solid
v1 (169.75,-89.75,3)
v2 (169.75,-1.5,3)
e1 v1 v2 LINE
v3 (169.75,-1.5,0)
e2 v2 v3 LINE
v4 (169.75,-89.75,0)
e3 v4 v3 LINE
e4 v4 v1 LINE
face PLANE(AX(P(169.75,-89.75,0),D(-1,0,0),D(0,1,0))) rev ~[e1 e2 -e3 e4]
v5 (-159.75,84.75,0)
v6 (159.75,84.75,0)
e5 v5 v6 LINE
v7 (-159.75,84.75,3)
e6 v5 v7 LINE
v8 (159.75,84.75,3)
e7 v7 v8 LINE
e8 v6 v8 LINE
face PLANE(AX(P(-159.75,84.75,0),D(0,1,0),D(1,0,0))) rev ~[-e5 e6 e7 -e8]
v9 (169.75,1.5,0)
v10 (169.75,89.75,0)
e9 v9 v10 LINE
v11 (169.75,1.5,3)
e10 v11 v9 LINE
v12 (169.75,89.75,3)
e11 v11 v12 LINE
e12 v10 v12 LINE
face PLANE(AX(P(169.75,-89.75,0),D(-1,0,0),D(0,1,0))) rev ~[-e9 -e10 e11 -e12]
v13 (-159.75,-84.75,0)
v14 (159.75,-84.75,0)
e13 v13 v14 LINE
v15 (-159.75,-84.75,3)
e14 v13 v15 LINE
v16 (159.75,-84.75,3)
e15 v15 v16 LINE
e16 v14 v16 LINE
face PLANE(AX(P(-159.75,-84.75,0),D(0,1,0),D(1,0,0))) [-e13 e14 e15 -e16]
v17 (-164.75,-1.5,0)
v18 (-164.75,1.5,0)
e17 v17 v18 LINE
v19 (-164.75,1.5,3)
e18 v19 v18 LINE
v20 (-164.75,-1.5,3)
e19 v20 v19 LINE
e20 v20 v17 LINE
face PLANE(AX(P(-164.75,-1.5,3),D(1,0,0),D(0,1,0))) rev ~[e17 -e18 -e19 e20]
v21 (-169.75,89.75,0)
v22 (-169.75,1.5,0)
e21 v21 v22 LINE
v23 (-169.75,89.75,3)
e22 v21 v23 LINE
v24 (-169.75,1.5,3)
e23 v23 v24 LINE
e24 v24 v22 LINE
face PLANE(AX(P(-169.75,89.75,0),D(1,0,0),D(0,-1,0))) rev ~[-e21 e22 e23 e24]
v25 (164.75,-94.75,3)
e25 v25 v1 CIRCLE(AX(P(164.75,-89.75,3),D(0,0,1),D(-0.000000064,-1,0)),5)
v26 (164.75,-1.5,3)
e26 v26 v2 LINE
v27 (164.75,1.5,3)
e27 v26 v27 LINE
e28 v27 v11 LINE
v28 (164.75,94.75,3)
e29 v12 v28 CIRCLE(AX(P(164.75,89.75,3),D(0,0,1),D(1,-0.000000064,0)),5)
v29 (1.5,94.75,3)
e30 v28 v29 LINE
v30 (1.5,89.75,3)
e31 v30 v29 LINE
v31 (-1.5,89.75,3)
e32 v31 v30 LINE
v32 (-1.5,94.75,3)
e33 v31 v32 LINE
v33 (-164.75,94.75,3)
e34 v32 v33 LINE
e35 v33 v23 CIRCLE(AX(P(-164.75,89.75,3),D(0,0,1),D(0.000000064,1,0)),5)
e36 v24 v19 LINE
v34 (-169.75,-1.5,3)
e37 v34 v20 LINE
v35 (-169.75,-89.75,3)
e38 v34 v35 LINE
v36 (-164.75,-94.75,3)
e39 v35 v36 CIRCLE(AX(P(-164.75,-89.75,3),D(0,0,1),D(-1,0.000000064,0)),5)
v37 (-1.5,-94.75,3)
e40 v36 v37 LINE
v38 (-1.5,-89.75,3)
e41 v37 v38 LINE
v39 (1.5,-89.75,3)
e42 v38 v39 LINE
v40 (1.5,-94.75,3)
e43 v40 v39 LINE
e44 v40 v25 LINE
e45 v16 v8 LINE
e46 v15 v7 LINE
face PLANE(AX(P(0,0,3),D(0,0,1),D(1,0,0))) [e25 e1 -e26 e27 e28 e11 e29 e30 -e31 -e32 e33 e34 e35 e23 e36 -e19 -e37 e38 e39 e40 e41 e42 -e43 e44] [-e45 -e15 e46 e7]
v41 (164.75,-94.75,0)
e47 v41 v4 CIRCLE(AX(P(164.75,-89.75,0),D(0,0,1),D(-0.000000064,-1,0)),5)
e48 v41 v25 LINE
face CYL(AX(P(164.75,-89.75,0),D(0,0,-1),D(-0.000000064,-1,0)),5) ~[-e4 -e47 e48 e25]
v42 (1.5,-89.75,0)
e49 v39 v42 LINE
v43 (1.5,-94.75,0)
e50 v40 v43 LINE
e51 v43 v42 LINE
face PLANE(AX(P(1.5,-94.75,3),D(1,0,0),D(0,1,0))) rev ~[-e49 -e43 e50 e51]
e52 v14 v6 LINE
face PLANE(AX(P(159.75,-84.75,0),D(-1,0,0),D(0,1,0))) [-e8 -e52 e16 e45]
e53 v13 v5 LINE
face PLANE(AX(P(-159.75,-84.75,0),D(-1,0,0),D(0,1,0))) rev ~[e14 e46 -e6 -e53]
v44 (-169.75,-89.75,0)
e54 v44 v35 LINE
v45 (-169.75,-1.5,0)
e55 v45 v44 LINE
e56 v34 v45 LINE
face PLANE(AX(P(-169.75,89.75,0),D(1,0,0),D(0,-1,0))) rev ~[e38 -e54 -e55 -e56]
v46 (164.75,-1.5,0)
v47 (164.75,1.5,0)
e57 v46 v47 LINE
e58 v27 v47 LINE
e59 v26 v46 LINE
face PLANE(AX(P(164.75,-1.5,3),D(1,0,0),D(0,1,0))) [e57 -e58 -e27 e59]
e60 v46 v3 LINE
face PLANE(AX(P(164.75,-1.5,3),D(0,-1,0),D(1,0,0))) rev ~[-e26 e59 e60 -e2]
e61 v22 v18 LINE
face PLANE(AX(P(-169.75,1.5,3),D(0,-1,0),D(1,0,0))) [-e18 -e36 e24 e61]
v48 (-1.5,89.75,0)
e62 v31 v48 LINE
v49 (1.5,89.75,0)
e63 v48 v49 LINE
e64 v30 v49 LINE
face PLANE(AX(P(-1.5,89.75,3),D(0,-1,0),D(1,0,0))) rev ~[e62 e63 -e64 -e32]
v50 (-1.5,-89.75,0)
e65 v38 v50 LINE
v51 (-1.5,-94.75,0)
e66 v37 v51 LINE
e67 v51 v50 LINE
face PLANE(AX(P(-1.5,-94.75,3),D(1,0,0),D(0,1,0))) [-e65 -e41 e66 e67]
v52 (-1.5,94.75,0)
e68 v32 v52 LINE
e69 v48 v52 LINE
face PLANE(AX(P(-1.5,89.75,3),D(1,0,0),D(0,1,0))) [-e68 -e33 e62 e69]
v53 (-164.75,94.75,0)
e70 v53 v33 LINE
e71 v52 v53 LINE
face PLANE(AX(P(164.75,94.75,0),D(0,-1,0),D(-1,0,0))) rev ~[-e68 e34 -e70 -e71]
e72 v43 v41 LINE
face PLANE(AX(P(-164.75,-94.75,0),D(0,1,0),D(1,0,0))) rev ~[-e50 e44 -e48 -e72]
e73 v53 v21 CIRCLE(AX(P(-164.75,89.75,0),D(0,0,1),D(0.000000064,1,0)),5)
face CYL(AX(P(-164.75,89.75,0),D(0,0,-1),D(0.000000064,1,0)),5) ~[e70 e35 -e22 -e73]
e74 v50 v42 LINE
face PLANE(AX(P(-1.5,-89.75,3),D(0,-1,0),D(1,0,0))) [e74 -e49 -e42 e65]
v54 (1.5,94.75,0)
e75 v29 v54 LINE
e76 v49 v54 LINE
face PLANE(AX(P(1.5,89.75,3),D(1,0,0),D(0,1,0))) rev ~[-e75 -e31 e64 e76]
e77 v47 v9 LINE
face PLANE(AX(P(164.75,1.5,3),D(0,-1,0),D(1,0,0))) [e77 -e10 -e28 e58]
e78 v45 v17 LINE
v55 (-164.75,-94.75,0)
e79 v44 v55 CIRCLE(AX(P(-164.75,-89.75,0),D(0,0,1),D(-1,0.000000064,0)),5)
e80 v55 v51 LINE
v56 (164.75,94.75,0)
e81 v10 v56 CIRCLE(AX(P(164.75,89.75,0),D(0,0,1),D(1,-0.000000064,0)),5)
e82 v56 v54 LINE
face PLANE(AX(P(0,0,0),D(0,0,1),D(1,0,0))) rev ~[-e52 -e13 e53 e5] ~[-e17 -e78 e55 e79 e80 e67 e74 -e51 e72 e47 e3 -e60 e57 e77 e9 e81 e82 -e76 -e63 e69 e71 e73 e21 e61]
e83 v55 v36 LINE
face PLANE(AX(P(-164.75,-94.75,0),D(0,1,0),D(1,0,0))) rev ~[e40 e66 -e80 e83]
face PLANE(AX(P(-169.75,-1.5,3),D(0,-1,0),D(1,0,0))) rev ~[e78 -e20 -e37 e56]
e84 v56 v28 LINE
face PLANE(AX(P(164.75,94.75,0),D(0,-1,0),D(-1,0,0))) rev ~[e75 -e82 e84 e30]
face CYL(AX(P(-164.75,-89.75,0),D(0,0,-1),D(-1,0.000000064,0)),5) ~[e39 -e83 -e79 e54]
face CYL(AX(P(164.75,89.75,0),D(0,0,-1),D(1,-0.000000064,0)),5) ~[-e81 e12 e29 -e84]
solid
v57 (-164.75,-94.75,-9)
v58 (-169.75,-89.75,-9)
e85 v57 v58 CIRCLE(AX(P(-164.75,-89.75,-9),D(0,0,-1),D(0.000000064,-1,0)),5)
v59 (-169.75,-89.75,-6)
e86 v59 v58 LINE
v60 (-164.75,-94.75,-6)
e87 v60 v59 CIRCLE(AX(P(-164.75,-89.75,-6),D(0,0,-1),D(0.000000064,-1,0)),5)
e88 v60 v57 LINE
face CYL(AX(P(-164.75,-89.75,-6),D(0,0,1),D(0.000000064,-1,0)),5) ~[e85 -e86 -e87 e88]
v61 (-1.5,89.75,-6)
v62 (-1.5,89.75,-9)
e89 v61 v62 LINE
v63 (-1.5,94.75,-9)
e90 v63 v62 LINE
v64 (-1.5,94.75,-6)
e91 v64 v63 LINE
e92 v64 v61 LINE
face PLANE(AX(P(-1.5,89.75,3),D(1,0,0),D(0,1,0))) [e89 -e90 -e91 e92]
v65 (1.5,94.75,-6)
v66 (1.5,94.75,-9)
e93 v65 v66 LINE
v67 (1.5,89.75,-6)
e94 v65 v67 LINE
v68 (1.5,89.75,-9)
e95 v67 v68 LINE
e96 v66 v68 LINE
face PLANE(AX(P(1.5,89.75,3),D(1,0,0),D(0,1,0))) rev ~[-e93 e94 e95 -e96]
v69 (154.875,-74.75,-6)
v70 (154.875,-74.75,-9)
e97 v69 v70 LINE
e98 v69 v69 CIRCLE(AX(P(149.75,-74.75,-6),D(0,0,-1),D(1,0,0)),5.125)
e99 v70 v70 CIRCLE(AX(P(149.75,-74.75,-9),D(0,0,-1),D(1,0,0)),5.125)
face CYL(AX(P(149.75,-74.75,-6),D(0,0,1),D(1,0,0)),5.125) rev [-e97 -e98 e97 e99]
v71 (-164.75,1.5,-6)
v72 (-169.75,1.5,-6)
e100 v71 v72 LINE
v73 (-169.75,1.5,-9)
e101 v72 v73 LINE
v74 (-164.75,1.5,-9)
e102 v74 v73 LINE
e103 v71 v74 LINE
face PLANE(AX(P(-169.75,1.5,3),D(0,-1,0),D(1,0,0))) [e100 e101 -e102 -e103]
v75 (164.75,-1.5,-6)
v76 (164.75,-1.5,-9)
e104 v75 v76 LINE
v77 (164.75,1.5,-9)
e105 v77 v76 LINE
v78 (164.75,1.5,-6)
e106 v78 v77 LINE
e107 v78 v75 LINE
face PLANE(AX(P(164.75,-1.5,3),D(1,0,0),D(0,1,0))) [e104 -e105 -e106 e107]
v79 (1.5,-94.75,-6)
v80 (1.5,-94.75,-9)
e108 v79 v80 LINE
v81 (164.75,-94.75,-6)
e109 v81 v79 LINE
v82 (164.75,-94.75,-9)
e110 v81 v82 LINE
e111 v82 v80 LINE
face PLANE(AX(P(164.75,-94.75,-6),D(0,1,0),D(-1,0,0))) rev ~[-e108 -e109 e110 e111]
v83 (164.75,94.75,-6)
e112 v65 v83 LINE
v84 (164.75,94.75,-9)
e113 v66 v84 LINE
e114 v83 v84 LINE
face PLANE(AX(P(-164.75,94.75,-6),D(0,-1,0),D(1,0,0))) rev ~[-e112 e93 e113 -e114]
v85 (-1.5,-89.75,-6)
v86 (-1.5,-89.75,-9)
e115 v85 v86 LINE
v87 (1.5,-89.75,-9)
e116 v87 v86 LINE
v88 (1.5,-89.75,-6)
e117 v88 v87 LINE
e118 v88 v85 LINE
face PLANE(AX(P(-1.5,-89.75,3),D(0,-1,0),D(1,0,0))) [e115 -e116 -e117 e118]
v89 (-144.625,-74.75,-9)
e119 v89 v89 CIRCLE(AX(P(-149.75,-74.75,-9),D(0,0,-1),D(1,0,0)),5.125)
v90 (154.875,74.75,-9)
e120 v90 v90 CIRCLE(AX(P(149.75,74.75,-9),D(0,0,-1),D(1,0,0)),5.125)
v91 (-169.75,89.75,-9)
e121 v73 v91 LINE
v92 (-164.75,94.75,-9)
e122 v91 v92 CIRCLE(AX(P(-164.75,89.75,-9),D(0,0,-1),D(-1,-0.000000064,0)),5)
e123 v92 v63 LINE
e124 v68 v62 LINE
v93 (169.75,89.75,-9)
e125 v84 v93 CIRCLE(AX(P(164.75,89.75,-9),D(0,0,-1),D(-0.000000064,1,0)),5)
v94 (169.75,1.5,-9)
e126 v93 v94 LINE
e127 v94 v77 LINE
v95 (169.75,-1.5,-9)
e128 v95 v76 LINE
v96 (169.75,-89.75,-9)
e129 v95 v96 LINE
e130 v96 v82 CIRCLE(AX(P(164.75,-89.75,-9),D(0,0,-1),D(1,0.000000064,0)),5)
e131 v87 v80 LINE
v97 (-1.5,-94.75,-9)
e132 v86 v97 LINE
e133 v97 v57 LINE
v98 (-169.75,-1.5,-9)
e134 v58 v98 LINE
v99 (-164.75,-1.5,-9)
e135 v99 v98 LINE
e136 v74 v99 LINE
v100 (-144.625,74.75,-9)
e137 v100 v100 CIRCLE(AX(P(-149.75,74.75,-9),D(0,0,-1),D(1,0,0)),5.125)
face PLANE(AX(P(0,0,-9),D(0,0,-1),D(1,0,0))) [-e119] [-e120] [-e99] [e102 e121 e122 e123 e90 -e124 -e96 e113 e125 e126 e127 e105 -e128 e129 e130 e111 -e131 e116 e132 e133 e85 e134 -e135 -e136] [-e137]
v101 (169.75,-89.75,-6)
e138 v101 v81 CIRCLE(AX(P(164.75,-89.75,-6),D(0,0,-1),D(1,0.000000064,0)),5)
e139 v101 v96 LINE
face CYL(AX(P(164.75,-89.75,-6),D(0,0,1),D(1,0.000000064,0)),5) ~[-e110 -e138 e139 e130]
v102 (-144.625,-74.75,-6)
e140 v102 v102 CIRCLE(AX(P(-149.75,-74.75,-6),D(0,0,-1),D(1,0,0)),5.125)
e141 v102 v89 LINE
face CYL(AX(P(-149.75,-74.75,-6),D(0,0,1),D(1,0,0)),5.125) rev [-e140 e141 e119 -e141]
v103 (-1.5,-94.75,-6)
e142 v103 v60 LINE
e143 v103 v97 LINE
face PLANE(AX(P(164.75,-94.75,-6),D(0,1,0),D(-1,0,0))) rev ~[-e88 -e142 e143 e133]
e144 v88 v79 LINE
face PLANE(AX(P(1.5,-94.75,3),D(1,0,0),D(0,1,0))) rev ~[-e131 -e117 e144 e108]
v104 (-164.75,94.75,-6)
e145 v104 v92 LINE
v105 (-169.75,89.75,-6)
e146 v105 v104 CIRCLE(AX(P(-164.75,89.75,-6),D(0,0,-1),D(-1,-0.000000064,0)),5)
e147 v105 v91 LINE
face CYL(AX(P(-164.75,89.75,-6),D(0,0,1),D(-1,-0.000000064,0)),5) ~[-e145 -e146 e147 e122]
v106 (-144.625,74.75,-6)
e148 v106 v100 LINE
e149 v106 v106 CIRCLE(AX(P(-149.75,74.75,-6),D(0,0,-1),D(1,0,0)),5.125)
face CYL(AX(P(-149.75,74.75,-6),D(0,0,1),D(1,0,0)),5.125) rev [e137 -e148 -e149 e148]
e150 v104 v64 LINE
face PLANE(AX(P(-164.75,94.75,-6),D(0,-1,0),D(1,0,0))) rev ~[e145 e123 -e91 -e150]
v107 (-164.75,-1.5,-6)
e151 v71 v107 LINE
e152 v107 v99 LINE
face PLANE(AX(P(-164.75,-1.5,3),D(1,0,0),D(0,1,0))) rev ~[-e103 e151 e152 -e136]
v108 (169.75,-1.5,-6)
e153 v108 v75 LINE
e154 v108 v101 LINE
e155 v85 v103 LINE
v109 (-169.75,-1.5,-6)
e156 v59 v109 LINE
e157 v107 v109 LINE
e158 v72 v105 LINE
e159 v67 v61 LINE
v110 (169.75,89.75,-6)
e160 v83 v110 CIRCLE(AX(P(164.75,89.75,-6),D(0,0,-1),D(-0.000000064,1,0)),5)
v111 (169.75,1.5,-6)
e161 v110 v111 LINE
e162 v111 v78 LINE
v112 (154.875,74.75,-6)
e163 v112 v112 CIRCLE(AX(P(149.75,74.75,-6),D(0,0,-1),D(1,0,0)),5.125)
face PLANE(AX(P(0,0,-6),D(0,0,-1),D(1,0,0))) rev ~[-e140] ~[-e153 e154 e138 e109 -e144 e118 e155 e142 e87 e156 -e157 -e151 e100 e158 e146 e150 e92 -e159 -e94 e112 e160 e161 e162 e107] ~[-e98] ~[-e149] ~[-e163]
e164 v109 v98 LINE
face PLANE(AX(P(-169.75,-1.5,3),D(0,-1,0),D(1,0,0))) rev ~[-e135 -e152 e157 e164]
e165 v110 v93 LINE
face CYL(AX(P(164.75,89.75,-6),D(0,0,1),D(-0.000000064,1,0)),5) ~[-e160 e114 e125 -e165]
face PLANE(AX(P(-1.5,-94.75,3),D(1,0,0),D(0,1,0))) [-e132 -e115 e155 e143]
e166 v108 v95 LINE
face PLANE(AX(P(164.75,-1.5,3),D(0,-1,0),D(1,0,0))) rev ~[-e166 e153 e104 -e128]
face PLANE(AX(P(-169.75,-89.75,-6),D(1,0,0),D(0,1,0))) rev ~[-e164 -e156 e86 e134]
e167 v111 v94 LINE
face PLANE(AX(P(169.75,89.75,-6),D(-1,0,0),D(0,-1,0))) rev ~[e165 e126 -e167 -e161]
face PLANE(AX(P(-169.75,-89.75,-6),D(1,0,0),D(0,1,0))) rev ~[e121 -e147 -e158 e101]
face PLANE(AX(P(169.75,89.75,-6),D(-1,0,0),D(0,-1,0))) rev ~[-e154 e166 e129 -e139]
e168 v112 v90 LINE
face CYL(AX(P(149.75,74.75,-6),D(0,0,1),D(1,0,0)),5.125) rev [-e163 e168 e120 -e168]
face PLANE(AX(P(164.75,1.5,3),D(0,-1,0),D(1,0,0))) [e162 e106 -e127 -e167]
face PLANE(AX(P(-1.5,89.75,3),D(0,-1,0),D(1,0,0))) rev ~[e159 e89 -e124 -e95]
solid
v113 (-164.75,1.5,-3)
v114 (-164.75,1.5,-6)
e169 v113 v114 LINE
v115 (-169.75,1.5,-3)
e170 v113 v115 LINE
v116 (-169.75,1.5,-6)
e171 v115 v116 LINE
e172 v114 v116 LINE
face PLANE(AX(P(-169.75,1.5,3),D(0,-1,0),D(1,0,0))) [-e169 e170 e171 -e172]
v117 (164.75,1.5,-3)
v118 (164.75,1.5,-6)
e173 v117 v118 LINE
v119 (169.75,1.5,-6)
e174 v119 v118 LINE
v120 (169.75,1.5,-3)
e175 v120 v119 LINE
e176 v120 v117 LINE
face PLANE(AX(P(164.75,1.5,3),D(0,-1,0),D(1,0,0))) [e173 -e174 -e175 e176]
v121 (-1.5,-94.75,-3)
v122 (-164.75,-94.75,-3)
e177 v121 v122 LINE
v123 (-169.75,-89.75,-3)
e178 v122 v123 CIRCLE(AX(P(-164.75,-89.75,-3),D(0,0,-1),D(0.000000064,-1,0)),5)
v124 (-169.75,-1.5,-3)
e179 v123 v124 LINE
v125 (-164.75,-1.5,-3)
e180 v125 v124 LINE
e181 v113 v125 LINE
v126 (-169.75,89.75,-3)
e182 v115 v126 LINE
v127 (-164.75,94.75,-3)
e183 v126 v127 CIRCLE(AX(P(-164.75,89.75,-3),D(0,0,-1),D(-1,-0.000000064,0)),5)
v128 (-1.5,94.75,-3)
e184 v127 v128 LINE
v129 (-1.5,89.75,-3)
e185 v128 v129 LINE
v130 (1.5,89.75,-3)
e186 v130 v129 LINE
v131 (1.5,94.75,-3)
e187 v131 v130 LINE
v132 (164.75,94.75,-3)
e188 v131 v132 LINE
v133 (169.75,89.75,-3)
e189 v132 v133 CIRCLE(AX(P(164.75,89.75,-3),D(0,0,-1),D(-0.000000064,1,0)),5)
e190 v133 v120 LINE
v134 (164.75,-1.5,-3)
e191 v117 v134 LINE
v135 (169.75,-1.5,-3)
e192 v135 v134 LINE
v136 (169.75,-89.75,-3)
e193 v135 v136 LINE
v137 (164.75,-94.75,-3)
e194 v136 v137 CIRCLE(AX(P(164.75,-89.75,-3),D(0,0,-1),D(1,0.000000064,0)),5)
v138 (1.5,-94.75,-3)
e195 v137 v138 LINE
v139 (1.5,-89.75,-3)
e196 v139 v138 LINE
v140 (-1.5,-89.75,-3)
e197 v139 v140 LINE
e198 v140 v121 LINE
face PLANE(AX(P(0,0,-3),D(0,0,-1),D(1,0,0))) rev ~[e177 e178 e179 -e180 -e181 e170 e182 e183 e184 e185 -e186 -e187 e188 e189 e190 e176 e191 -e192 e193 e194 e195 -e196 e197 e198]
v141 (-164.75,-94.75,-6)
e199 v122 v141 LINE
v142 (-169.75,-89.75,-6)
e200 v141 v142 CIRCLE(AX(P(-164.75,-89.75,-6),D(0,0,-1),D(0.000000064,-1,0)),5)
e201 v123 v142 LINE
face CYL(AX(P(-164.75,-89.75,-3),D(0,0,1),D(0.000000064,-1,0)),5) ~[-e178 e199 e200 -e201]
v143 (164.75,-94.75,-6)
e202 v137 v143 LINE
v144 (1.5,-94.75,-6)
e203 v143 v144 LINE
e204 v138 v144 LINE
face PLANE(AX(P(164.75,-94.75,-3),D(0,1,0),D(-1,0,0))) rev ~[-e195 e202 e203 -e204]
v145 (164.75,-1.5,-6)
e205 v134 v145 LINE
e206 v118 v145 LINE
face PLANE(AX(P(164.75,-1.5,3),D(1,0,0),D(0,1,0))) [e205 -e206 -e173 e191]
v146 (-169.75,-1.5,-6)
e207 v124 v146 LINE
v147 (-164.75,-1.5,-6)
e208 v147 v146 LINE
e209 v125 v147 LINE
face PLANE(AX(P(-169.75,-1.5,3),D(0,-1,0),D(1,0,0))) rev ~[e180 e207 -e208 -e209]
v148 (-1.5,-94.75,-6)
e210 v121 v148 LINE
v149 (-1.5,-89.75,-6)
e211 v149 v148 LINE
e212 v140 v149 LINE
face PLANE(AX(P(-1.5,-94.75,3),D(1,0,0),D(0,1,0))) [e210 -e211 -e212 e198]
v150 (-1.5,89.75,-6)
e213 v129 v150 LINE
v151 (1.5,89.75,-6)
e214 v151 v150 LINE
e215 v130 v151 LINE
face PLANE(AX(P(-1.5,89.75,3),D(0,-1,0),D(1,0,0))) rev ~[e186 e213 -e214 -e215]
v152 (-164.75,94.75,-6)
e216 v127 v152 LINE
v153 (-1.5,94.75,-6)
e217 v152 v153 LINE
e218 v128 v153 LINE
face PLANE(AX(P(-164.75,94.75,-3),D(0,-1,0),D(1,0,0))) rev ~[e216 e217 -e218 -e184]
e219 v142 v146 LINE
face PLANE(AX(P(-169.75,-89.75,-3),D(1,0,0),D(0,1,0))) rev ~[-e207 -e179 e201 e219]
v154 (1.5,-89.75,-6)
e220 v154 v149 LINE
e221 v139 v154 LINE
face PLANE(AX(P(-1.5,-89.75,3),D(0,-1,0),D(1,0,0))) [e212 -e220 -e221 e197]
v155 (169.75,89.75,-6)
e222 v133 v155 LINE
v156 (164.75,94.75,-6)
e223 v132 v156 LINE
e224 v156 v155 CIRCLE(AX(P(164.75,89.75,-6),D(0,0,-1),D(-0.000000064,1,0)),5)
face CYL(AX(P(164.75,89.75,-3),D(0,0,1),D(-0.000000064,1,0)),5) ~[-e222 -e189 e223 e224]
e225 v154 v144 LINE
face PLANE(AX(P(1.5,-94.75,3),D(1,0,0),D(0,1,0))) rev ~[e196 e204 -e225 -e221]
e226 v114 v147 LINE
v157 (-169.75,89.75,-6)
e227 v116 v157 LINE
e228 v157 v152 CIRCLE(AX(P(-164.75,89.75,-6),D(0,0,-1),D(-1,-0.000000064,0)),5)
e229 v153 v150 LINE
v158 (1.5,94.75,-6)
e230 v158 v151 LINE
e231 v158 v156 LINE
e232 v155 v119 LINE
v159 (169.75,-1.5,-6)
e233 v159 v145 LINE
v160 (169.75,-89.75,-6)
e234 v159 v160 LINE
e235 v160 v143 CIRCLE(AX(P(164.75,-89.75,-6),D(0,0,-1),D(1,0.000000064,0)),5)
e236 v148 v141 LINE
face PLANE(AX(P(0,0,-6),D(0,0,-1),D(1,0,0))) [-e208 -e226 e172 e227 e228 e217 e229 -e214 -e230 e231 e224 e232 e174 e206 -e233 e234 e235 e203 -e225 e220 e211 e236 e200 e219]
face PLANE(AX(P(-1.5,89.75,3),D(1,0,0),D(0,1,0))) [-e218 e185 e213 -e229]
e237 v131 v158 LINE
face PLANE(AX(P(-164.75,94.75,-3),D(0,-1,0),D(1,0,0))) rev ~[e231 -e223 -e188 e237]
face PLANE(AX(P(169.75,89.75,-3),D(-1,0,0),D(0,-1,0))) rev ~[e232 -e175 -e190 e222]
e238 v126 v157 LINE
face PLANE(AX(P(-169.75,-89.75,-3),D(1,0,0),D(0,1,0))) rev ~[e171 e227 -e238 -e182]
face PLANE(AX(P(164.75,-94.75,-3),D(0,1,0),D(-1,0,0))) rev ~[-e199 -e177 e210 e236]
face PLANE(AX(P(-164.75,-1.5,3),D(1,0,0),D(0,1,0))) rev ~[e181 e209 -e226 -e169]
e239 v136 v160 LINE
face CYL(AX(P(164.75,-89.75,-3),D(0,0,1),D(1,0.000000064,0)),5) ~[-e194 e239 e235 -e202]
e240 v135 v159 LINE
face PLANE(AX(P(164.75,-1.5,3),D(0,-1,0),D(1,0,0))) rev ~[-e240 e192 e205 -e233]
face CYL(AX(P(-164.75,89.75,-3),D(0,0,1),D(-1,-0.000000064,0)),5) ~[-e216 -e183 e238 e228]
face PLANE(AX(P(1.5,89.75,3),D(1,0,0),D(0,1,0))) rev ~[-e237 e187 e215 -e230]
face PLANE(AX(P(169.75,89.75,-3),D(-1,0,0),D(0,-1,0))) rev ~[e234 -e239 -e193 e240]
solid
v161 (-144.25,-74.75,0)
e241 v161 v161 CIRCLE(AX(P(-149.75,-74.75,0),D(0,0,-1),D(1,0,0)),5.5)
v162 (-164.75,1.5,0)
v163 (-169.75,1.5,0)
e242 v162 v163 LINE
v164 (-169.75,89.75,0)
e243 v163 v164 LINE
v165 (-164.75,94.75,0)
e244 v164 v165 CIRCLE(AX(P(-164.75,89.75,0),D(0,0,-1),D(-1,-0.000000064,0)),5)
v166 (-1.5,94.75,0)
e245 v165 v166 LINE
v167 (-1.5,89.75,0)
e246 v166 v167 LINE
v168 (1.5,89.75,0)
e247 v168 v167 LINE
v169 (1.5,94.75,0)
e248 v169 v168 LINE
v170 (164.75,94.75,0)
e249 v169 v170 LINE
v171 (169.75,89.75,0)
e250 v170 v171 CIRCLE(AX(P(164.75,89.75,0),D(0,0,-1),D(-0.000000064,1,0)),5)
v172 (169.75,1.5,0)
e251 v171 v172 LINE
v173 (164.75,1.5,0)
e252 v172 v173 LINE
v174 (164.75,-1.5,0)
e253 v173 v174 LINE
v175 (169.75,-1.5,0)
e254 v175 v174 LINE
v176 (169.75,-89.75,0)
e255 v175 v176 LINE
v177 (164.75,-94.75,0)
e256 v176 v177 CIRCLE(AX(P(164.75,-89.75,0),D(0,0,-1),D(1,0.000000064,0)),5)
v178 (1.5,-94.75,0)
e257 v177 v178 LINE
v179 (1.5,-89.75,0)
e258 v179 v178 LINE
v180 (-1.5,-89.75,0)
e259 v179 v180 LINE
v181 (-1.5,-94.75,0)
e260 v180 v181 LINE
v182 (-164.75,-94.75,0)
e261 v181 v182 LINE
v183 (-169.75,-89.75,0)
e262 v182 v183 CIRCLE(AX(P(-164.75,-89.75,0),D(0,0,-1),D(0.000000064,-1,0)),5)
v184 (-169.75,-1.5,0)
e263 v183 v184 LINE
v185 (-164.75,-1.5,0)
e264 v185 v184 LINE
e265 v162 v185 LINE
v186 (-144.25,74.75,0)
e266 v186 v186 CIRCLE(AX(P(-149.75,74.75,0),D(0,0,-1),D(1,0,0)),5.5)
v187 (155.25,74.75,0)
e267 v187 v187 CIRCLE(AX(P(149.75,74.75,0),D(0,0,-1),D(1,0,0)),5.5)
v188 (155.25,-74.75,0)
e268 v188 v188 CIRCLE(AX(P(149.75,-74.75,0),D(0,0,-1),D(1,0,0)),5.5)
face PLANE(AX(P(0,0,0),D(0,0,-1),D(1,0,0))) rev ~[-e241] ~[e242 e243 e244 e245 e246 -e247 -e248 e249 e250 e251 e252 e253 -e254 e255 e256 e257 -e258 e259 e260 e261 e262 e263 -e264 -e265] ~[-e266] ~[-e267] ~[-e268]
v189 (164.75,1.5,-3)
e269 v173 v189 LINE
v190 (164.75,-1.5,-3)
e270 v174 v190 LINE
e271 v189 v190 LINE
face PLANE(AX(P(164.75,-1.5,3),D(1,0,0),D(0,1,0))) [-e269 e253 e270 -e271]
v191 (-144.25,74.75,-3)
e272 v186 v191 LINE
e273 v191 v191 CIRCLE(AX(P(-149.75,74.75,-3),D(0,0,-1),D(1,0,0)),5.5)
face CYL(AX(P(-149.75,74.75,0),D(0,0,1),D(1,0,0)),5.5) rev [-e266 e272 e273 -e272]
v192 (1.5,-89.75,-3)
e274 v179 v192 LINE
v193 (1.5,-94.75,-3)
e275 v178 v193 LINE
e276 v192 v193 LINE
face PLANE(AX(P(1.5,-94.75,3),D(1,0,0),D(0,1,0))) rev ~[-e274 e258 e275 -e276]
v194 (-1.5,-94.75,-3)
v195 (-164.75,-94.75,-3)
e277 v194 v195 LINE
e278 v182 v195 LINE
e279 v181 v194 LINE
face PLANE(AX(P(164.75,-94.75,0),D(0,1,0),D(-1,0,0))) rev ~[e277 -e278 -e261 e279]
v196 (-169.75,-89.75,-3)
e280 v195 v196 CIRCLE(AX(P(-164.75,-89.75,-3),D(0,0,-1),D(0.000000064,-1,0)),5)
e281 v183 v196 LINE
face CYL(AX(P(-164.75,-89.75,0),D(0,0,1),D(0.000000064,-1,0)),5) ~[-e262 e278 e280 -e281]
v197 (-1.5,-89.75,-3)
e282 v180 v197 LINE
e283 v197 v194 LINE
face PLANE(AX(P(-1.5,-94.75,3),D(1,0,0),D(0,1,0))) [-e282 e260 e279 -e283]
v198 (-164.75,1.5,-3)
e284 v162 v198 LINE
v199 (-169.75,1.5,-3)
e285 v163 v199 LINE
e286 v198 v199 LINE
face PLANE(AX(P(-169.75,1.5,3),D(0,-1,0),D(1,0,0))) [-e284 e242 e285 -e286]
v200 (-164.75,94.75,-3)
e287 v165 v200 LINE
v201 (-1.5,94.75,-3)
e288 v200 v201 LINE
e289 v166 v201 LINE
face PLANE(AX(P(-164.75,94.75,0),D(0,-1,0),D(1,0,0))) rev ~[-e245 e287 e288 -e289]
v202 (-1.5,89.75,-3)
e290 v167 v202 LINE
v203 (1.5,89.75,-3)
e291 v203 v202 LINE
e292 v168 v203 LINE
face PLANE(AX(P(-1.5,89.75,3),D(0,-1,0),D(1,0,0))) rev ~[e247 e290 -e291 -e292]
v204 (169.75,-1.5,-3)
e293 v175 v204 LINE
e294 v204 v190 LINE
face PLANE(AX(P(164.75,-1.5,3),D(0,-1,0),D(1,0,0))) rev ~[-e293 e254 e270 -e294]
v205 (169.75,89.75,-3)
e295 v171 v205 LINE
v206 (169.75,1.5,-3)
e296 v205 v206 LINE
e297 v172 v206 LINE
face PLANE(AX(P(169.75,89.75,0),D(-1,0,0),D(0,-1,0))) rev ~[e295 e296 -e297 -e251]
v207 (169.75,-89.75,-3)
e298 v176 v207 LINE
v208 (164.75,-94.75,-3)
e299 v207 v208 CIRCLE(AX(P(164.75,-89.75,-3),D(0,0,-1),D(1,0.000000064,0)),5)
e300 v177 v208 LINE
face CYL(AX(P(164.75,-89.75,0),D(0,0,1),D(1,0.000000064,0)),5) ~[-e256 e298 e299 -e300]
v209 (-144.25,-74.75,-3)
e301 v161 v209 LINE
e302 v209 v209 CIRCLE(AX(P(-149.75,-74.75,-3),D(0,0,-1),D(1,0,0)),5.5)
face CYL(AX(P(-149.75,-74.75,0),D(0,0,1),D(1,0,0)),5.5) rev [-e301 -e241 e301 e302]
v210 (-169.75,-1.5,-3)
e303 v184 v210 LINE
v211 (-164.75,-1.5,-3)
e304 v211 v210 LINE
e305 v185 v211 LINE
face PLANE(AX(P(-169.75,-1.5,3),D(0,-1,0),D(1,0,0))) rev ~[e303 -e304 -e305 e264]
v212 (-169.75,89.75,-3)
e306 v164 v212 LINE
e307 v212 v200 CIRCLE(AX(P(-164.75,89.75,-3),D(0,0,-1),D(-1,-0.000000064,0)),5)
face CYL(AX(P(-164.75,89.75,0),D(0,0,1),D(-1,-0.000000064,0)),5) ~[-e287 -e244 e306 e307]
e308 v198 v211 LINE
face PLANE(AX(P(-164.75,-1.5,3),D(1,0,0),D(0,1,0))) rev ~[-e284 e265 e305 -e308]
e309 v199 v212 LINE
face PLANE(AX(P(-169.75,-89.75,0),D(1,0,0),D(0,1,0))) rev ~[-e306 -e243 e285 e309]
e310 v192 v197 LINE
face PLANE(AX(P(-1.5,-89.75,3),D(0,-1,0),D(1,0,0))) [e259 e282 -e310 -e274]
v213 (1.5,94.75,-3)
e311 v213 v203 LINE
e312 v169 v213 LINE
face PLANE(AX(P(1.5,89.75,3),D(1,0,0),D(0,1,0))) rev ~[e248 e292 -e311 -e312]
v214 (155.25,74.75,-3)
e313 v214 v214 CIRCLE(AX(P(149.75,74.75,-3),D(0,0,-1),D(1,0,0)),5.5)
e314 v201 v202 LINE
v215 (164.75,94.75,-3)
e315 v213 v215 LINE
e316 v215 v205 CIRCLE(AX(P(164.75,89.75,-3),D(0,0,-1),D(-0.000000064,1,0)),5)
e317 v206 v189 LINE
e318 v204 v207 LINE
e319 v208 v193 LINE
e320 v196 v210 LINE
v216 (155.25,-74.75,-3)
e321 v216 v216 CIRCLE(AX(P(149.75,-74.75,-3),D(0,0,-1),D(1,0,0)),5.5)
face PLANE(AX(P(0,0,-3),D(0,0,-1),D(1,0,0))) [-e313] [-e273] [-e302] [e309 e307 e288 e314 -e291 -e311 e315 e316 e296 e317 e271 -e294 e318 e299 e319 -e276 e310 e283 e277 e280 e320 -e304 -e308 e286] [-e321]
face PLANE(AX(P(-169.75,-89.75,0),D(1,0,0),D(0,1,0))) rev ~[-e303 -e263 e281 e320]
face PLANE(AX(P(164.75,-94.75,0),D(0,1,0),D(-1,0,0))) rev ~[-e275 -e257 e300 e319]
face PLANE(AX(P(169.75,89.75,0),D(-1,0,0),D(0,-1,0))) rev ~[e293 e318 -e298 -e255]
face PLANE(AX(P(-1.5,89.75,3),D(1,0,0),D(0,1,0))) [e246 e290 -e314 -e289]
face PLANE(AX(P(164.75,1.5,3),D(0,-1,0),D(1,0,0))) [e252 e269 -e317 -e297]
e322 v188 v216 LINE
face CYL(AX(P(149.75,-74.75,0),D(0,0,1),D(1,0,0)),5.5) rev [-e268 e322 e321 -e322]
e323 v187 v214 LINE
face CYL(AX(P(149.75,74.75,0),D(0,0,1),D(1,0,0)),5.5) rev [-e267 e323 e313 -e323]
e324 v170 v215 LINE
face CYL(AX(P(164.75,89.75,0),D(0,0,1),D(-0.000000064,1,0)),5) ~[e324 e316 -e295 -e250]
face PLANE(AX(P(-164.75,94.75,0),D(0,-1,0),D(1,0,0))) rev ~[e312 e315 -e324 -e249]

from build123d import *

# Parameters (mm, degrees)
F1_W      = 319.5
F1_H      = 169.5
F2_DEPTH  = 3
F3_R      = 5.5
F4_DEPTH  = 3
F6_DEPTH  = 3
F7_R      = 5.125
F8_DEPTH  = 3
F9_W      = 3
F9_H      = 5
F9_W_2    = 5
F9_H_2    = 3
F10_DEPTH = 12.001


with BuildPart() as f2:
    # F1 (on face) → F2 (new body)
    with BuildSketch(Plane.XY):
        with BuildLine():
            ThreePointArc((169.75, 89.75), (168.285534, 93.285534), (164.75, 94.75))
            Line((164.75, 94.75), (-164.75, 94.75))
            ThreePointArc((-164.75, 94.75), (-168.285534, 93.285534), (-169.75, 89.75))
            Line((-169.75, 89.75), (-169.75, -89.75))
            ThreePointArc((-169.75, -89.75), (-168.285534, -93.285534), (-164.75, -94.75))
            Line((-164.75, -94.75), (164.75, -94.75))
            ThreePointArc((164.75, -94.75), (168.285534, -93.285534), (169.75, -89.75))
            Line((169.75, -89.75), (169.75, 89.75))
        make_face()
        Rectangle(F1_W, F1_H, mode=Mode.SUBTRACT)
    extrude(amount=F2_DEPTH)


with BuildPart() as f4:
    # F3 (on face) → F4 (new body)
    with BuildSketch(Plane(origin=(0, 0, 0), x_dir=(1, 0, 0), z_dir=(0, 0, -1))):
        with BuildLine():
            ThreePointArc((169.75, 89.75), (168.285534, 93.285534), (164.75, 94.75))
            Line((164.75, 94.75), (-164.75, 94.75))
            ThreePointArc((-164.75, 94.75), (-168.285534, 93.285534), (-169.75, 89.75))
            Line((-169.75, 89.75), (-169.75, -89.75))
            ThreePointArc((-169.75, -89.75), (-168.285534, -93.285534), (-164.75, -94.75))
            Line((-164.75, -94.75), (164.75, -94.75))
            ThreePointArc((164.75, -94.75), (168.285534, -93.285534), (169.75, -89.75))
            Line((169.75, -89.75), (169.75, 89.75))
        make_face()
        with Locations((-149.75, -74.75)):
            Circle(F3_R, mode=Mode.SUBTRACT)
        with Locations((149.75, -74.75)):
            Circle(F3_R, mode=Mode.SUBTRACT)
        with Locations((-149.75, 74.75)):
            Circle(F3_R, mode=Mode.SUBTRACT)
        with Locations((149.75, 74.75)):
            Circle(F3_R, mode=Mode.SUBTRACT)
    extrude(amount=F4_DEPTH)


with BuildPart() as f6:
    # F5 (on face) → F6 (new body)
    with BuildSketch(Plane(origin=(0, 0, -3), x_dir=(1, 0, 0), z_dir=(0, 0, -1))):
        with BuildLine():
            Line((169.75, -89.75), (169.75, 89.75))
            ThreePointArc((169.75, 89.75), (168.285534, 93.285534), (164.75, 94.75))
            Line((164.75, 94.75), (-164.75, 94.75))
            ThreePointArc((-164.75, 94.75), (-168.285534, 93.285534), (-169.75, 89.75))
            Line((-169.75, 89.75), (-169.75, -89.75))
            ThreePointArc((-169.75, -89.75), (-168.285534, -93.285534), (-164.75, -94.75))
            Line((-164.75, -94.75), (164.75, -94.75))
            ThreePointArc((164.75, -94.75), (168.285534, -93.285534), (169.75, -89.75))
        make_face()
    extrude(amount=F6_DEPTH)


with BuildPart() as f8:
    # F7 (on face) → F8 (new body)
    with BuildSketch(Plane(origin=(0, 0, -6), x_dir=(1, 0, 0), z_dir=(0, 0, -1))):
        with BuildLine():
            Line((169.75, -89.75), (169.75, 89.75))
            ThreePointArc((169.75, 89.75), (168.285534, 93.285534), (164.75, 94.75))
            Line((164.75, 94.75), (-164.75, 94.75))
            ThreePointArc((-164.75, 94.75), (-168.285534, 93.285534), (-169.75, 89.75))
            Line((-169.75, 89.75), (-169.75, -89.75))
            ThreePointArc((-169.75, -89.75), (-168.285534, -93.285534), (-164.75, -94.75))
            Line((-164.75, -94.75), (164.75, -94.75))
            ThreePointArc((164.75, -94.75), (168.285534, -93.285534), (169.75, -89.75))
        make_face()
        with Locations((-149.75, -74.75)):
            Circle(F7_R, mode=Mode.SUBTRACT)
        with Locations((149.75, -74.75)):
            Circle(F7_R, mode=Mode.SUBTRACT)
        with Locations((-149.75, 74.75)):
            Circle(F7_R, mode=Mode.SUBTRACT)
        with Locations((149.75, 74.75)):
            Circle(F7_R, mode=Mode.SUBTRACT)
    extrude(amount=F8_DEPTH)


with BuildPart() as f10_tool:
    # F9 (on face) → F10 (new body, through all)
    with BuildSketch(Plane.XY.offset(3)):
        with Locations((0, 92.25)):
            Rectangle(F9_W, F9_H)
        with Locations((0, -92.25)):
            Rectangle(F9_W, F9_H)
        with Locations((167.25, 0)):
            Rectangle(F9_W_2, F9_H_2)
        with Locations((-167.25, 0)):
            Rectangle(F9_W_2, F9_H_2)
    extrude(amount=-F10_DEPTH)


with BuildPart() as f2_1:
    add(f2.part)

    # F10: cut by f10_tool
    add(f10_tool.part, mode=Mode.SUBTRACT)


with BuildPart() as f4_1:
    add(f4.part)

    # F10: cut by f10_tool
    add(f10_tool.part, mode=Mode.SUBTRACT)


with BuildPart() as f6_1:
    add(f6.part)

    # F10: cut by f10_tool
    add(f10_tool.part, mode=Mode.SUBTRACT)


with BuildPart() as f8_1:
    add(f8.part)

    # F10: cut by f10_tool
    add(f10_tool.part, mode=Mode.SUBTRACT)


solid = Compound([f2_1.part, f4_1.part, f6_1.part, f8_1.part])
